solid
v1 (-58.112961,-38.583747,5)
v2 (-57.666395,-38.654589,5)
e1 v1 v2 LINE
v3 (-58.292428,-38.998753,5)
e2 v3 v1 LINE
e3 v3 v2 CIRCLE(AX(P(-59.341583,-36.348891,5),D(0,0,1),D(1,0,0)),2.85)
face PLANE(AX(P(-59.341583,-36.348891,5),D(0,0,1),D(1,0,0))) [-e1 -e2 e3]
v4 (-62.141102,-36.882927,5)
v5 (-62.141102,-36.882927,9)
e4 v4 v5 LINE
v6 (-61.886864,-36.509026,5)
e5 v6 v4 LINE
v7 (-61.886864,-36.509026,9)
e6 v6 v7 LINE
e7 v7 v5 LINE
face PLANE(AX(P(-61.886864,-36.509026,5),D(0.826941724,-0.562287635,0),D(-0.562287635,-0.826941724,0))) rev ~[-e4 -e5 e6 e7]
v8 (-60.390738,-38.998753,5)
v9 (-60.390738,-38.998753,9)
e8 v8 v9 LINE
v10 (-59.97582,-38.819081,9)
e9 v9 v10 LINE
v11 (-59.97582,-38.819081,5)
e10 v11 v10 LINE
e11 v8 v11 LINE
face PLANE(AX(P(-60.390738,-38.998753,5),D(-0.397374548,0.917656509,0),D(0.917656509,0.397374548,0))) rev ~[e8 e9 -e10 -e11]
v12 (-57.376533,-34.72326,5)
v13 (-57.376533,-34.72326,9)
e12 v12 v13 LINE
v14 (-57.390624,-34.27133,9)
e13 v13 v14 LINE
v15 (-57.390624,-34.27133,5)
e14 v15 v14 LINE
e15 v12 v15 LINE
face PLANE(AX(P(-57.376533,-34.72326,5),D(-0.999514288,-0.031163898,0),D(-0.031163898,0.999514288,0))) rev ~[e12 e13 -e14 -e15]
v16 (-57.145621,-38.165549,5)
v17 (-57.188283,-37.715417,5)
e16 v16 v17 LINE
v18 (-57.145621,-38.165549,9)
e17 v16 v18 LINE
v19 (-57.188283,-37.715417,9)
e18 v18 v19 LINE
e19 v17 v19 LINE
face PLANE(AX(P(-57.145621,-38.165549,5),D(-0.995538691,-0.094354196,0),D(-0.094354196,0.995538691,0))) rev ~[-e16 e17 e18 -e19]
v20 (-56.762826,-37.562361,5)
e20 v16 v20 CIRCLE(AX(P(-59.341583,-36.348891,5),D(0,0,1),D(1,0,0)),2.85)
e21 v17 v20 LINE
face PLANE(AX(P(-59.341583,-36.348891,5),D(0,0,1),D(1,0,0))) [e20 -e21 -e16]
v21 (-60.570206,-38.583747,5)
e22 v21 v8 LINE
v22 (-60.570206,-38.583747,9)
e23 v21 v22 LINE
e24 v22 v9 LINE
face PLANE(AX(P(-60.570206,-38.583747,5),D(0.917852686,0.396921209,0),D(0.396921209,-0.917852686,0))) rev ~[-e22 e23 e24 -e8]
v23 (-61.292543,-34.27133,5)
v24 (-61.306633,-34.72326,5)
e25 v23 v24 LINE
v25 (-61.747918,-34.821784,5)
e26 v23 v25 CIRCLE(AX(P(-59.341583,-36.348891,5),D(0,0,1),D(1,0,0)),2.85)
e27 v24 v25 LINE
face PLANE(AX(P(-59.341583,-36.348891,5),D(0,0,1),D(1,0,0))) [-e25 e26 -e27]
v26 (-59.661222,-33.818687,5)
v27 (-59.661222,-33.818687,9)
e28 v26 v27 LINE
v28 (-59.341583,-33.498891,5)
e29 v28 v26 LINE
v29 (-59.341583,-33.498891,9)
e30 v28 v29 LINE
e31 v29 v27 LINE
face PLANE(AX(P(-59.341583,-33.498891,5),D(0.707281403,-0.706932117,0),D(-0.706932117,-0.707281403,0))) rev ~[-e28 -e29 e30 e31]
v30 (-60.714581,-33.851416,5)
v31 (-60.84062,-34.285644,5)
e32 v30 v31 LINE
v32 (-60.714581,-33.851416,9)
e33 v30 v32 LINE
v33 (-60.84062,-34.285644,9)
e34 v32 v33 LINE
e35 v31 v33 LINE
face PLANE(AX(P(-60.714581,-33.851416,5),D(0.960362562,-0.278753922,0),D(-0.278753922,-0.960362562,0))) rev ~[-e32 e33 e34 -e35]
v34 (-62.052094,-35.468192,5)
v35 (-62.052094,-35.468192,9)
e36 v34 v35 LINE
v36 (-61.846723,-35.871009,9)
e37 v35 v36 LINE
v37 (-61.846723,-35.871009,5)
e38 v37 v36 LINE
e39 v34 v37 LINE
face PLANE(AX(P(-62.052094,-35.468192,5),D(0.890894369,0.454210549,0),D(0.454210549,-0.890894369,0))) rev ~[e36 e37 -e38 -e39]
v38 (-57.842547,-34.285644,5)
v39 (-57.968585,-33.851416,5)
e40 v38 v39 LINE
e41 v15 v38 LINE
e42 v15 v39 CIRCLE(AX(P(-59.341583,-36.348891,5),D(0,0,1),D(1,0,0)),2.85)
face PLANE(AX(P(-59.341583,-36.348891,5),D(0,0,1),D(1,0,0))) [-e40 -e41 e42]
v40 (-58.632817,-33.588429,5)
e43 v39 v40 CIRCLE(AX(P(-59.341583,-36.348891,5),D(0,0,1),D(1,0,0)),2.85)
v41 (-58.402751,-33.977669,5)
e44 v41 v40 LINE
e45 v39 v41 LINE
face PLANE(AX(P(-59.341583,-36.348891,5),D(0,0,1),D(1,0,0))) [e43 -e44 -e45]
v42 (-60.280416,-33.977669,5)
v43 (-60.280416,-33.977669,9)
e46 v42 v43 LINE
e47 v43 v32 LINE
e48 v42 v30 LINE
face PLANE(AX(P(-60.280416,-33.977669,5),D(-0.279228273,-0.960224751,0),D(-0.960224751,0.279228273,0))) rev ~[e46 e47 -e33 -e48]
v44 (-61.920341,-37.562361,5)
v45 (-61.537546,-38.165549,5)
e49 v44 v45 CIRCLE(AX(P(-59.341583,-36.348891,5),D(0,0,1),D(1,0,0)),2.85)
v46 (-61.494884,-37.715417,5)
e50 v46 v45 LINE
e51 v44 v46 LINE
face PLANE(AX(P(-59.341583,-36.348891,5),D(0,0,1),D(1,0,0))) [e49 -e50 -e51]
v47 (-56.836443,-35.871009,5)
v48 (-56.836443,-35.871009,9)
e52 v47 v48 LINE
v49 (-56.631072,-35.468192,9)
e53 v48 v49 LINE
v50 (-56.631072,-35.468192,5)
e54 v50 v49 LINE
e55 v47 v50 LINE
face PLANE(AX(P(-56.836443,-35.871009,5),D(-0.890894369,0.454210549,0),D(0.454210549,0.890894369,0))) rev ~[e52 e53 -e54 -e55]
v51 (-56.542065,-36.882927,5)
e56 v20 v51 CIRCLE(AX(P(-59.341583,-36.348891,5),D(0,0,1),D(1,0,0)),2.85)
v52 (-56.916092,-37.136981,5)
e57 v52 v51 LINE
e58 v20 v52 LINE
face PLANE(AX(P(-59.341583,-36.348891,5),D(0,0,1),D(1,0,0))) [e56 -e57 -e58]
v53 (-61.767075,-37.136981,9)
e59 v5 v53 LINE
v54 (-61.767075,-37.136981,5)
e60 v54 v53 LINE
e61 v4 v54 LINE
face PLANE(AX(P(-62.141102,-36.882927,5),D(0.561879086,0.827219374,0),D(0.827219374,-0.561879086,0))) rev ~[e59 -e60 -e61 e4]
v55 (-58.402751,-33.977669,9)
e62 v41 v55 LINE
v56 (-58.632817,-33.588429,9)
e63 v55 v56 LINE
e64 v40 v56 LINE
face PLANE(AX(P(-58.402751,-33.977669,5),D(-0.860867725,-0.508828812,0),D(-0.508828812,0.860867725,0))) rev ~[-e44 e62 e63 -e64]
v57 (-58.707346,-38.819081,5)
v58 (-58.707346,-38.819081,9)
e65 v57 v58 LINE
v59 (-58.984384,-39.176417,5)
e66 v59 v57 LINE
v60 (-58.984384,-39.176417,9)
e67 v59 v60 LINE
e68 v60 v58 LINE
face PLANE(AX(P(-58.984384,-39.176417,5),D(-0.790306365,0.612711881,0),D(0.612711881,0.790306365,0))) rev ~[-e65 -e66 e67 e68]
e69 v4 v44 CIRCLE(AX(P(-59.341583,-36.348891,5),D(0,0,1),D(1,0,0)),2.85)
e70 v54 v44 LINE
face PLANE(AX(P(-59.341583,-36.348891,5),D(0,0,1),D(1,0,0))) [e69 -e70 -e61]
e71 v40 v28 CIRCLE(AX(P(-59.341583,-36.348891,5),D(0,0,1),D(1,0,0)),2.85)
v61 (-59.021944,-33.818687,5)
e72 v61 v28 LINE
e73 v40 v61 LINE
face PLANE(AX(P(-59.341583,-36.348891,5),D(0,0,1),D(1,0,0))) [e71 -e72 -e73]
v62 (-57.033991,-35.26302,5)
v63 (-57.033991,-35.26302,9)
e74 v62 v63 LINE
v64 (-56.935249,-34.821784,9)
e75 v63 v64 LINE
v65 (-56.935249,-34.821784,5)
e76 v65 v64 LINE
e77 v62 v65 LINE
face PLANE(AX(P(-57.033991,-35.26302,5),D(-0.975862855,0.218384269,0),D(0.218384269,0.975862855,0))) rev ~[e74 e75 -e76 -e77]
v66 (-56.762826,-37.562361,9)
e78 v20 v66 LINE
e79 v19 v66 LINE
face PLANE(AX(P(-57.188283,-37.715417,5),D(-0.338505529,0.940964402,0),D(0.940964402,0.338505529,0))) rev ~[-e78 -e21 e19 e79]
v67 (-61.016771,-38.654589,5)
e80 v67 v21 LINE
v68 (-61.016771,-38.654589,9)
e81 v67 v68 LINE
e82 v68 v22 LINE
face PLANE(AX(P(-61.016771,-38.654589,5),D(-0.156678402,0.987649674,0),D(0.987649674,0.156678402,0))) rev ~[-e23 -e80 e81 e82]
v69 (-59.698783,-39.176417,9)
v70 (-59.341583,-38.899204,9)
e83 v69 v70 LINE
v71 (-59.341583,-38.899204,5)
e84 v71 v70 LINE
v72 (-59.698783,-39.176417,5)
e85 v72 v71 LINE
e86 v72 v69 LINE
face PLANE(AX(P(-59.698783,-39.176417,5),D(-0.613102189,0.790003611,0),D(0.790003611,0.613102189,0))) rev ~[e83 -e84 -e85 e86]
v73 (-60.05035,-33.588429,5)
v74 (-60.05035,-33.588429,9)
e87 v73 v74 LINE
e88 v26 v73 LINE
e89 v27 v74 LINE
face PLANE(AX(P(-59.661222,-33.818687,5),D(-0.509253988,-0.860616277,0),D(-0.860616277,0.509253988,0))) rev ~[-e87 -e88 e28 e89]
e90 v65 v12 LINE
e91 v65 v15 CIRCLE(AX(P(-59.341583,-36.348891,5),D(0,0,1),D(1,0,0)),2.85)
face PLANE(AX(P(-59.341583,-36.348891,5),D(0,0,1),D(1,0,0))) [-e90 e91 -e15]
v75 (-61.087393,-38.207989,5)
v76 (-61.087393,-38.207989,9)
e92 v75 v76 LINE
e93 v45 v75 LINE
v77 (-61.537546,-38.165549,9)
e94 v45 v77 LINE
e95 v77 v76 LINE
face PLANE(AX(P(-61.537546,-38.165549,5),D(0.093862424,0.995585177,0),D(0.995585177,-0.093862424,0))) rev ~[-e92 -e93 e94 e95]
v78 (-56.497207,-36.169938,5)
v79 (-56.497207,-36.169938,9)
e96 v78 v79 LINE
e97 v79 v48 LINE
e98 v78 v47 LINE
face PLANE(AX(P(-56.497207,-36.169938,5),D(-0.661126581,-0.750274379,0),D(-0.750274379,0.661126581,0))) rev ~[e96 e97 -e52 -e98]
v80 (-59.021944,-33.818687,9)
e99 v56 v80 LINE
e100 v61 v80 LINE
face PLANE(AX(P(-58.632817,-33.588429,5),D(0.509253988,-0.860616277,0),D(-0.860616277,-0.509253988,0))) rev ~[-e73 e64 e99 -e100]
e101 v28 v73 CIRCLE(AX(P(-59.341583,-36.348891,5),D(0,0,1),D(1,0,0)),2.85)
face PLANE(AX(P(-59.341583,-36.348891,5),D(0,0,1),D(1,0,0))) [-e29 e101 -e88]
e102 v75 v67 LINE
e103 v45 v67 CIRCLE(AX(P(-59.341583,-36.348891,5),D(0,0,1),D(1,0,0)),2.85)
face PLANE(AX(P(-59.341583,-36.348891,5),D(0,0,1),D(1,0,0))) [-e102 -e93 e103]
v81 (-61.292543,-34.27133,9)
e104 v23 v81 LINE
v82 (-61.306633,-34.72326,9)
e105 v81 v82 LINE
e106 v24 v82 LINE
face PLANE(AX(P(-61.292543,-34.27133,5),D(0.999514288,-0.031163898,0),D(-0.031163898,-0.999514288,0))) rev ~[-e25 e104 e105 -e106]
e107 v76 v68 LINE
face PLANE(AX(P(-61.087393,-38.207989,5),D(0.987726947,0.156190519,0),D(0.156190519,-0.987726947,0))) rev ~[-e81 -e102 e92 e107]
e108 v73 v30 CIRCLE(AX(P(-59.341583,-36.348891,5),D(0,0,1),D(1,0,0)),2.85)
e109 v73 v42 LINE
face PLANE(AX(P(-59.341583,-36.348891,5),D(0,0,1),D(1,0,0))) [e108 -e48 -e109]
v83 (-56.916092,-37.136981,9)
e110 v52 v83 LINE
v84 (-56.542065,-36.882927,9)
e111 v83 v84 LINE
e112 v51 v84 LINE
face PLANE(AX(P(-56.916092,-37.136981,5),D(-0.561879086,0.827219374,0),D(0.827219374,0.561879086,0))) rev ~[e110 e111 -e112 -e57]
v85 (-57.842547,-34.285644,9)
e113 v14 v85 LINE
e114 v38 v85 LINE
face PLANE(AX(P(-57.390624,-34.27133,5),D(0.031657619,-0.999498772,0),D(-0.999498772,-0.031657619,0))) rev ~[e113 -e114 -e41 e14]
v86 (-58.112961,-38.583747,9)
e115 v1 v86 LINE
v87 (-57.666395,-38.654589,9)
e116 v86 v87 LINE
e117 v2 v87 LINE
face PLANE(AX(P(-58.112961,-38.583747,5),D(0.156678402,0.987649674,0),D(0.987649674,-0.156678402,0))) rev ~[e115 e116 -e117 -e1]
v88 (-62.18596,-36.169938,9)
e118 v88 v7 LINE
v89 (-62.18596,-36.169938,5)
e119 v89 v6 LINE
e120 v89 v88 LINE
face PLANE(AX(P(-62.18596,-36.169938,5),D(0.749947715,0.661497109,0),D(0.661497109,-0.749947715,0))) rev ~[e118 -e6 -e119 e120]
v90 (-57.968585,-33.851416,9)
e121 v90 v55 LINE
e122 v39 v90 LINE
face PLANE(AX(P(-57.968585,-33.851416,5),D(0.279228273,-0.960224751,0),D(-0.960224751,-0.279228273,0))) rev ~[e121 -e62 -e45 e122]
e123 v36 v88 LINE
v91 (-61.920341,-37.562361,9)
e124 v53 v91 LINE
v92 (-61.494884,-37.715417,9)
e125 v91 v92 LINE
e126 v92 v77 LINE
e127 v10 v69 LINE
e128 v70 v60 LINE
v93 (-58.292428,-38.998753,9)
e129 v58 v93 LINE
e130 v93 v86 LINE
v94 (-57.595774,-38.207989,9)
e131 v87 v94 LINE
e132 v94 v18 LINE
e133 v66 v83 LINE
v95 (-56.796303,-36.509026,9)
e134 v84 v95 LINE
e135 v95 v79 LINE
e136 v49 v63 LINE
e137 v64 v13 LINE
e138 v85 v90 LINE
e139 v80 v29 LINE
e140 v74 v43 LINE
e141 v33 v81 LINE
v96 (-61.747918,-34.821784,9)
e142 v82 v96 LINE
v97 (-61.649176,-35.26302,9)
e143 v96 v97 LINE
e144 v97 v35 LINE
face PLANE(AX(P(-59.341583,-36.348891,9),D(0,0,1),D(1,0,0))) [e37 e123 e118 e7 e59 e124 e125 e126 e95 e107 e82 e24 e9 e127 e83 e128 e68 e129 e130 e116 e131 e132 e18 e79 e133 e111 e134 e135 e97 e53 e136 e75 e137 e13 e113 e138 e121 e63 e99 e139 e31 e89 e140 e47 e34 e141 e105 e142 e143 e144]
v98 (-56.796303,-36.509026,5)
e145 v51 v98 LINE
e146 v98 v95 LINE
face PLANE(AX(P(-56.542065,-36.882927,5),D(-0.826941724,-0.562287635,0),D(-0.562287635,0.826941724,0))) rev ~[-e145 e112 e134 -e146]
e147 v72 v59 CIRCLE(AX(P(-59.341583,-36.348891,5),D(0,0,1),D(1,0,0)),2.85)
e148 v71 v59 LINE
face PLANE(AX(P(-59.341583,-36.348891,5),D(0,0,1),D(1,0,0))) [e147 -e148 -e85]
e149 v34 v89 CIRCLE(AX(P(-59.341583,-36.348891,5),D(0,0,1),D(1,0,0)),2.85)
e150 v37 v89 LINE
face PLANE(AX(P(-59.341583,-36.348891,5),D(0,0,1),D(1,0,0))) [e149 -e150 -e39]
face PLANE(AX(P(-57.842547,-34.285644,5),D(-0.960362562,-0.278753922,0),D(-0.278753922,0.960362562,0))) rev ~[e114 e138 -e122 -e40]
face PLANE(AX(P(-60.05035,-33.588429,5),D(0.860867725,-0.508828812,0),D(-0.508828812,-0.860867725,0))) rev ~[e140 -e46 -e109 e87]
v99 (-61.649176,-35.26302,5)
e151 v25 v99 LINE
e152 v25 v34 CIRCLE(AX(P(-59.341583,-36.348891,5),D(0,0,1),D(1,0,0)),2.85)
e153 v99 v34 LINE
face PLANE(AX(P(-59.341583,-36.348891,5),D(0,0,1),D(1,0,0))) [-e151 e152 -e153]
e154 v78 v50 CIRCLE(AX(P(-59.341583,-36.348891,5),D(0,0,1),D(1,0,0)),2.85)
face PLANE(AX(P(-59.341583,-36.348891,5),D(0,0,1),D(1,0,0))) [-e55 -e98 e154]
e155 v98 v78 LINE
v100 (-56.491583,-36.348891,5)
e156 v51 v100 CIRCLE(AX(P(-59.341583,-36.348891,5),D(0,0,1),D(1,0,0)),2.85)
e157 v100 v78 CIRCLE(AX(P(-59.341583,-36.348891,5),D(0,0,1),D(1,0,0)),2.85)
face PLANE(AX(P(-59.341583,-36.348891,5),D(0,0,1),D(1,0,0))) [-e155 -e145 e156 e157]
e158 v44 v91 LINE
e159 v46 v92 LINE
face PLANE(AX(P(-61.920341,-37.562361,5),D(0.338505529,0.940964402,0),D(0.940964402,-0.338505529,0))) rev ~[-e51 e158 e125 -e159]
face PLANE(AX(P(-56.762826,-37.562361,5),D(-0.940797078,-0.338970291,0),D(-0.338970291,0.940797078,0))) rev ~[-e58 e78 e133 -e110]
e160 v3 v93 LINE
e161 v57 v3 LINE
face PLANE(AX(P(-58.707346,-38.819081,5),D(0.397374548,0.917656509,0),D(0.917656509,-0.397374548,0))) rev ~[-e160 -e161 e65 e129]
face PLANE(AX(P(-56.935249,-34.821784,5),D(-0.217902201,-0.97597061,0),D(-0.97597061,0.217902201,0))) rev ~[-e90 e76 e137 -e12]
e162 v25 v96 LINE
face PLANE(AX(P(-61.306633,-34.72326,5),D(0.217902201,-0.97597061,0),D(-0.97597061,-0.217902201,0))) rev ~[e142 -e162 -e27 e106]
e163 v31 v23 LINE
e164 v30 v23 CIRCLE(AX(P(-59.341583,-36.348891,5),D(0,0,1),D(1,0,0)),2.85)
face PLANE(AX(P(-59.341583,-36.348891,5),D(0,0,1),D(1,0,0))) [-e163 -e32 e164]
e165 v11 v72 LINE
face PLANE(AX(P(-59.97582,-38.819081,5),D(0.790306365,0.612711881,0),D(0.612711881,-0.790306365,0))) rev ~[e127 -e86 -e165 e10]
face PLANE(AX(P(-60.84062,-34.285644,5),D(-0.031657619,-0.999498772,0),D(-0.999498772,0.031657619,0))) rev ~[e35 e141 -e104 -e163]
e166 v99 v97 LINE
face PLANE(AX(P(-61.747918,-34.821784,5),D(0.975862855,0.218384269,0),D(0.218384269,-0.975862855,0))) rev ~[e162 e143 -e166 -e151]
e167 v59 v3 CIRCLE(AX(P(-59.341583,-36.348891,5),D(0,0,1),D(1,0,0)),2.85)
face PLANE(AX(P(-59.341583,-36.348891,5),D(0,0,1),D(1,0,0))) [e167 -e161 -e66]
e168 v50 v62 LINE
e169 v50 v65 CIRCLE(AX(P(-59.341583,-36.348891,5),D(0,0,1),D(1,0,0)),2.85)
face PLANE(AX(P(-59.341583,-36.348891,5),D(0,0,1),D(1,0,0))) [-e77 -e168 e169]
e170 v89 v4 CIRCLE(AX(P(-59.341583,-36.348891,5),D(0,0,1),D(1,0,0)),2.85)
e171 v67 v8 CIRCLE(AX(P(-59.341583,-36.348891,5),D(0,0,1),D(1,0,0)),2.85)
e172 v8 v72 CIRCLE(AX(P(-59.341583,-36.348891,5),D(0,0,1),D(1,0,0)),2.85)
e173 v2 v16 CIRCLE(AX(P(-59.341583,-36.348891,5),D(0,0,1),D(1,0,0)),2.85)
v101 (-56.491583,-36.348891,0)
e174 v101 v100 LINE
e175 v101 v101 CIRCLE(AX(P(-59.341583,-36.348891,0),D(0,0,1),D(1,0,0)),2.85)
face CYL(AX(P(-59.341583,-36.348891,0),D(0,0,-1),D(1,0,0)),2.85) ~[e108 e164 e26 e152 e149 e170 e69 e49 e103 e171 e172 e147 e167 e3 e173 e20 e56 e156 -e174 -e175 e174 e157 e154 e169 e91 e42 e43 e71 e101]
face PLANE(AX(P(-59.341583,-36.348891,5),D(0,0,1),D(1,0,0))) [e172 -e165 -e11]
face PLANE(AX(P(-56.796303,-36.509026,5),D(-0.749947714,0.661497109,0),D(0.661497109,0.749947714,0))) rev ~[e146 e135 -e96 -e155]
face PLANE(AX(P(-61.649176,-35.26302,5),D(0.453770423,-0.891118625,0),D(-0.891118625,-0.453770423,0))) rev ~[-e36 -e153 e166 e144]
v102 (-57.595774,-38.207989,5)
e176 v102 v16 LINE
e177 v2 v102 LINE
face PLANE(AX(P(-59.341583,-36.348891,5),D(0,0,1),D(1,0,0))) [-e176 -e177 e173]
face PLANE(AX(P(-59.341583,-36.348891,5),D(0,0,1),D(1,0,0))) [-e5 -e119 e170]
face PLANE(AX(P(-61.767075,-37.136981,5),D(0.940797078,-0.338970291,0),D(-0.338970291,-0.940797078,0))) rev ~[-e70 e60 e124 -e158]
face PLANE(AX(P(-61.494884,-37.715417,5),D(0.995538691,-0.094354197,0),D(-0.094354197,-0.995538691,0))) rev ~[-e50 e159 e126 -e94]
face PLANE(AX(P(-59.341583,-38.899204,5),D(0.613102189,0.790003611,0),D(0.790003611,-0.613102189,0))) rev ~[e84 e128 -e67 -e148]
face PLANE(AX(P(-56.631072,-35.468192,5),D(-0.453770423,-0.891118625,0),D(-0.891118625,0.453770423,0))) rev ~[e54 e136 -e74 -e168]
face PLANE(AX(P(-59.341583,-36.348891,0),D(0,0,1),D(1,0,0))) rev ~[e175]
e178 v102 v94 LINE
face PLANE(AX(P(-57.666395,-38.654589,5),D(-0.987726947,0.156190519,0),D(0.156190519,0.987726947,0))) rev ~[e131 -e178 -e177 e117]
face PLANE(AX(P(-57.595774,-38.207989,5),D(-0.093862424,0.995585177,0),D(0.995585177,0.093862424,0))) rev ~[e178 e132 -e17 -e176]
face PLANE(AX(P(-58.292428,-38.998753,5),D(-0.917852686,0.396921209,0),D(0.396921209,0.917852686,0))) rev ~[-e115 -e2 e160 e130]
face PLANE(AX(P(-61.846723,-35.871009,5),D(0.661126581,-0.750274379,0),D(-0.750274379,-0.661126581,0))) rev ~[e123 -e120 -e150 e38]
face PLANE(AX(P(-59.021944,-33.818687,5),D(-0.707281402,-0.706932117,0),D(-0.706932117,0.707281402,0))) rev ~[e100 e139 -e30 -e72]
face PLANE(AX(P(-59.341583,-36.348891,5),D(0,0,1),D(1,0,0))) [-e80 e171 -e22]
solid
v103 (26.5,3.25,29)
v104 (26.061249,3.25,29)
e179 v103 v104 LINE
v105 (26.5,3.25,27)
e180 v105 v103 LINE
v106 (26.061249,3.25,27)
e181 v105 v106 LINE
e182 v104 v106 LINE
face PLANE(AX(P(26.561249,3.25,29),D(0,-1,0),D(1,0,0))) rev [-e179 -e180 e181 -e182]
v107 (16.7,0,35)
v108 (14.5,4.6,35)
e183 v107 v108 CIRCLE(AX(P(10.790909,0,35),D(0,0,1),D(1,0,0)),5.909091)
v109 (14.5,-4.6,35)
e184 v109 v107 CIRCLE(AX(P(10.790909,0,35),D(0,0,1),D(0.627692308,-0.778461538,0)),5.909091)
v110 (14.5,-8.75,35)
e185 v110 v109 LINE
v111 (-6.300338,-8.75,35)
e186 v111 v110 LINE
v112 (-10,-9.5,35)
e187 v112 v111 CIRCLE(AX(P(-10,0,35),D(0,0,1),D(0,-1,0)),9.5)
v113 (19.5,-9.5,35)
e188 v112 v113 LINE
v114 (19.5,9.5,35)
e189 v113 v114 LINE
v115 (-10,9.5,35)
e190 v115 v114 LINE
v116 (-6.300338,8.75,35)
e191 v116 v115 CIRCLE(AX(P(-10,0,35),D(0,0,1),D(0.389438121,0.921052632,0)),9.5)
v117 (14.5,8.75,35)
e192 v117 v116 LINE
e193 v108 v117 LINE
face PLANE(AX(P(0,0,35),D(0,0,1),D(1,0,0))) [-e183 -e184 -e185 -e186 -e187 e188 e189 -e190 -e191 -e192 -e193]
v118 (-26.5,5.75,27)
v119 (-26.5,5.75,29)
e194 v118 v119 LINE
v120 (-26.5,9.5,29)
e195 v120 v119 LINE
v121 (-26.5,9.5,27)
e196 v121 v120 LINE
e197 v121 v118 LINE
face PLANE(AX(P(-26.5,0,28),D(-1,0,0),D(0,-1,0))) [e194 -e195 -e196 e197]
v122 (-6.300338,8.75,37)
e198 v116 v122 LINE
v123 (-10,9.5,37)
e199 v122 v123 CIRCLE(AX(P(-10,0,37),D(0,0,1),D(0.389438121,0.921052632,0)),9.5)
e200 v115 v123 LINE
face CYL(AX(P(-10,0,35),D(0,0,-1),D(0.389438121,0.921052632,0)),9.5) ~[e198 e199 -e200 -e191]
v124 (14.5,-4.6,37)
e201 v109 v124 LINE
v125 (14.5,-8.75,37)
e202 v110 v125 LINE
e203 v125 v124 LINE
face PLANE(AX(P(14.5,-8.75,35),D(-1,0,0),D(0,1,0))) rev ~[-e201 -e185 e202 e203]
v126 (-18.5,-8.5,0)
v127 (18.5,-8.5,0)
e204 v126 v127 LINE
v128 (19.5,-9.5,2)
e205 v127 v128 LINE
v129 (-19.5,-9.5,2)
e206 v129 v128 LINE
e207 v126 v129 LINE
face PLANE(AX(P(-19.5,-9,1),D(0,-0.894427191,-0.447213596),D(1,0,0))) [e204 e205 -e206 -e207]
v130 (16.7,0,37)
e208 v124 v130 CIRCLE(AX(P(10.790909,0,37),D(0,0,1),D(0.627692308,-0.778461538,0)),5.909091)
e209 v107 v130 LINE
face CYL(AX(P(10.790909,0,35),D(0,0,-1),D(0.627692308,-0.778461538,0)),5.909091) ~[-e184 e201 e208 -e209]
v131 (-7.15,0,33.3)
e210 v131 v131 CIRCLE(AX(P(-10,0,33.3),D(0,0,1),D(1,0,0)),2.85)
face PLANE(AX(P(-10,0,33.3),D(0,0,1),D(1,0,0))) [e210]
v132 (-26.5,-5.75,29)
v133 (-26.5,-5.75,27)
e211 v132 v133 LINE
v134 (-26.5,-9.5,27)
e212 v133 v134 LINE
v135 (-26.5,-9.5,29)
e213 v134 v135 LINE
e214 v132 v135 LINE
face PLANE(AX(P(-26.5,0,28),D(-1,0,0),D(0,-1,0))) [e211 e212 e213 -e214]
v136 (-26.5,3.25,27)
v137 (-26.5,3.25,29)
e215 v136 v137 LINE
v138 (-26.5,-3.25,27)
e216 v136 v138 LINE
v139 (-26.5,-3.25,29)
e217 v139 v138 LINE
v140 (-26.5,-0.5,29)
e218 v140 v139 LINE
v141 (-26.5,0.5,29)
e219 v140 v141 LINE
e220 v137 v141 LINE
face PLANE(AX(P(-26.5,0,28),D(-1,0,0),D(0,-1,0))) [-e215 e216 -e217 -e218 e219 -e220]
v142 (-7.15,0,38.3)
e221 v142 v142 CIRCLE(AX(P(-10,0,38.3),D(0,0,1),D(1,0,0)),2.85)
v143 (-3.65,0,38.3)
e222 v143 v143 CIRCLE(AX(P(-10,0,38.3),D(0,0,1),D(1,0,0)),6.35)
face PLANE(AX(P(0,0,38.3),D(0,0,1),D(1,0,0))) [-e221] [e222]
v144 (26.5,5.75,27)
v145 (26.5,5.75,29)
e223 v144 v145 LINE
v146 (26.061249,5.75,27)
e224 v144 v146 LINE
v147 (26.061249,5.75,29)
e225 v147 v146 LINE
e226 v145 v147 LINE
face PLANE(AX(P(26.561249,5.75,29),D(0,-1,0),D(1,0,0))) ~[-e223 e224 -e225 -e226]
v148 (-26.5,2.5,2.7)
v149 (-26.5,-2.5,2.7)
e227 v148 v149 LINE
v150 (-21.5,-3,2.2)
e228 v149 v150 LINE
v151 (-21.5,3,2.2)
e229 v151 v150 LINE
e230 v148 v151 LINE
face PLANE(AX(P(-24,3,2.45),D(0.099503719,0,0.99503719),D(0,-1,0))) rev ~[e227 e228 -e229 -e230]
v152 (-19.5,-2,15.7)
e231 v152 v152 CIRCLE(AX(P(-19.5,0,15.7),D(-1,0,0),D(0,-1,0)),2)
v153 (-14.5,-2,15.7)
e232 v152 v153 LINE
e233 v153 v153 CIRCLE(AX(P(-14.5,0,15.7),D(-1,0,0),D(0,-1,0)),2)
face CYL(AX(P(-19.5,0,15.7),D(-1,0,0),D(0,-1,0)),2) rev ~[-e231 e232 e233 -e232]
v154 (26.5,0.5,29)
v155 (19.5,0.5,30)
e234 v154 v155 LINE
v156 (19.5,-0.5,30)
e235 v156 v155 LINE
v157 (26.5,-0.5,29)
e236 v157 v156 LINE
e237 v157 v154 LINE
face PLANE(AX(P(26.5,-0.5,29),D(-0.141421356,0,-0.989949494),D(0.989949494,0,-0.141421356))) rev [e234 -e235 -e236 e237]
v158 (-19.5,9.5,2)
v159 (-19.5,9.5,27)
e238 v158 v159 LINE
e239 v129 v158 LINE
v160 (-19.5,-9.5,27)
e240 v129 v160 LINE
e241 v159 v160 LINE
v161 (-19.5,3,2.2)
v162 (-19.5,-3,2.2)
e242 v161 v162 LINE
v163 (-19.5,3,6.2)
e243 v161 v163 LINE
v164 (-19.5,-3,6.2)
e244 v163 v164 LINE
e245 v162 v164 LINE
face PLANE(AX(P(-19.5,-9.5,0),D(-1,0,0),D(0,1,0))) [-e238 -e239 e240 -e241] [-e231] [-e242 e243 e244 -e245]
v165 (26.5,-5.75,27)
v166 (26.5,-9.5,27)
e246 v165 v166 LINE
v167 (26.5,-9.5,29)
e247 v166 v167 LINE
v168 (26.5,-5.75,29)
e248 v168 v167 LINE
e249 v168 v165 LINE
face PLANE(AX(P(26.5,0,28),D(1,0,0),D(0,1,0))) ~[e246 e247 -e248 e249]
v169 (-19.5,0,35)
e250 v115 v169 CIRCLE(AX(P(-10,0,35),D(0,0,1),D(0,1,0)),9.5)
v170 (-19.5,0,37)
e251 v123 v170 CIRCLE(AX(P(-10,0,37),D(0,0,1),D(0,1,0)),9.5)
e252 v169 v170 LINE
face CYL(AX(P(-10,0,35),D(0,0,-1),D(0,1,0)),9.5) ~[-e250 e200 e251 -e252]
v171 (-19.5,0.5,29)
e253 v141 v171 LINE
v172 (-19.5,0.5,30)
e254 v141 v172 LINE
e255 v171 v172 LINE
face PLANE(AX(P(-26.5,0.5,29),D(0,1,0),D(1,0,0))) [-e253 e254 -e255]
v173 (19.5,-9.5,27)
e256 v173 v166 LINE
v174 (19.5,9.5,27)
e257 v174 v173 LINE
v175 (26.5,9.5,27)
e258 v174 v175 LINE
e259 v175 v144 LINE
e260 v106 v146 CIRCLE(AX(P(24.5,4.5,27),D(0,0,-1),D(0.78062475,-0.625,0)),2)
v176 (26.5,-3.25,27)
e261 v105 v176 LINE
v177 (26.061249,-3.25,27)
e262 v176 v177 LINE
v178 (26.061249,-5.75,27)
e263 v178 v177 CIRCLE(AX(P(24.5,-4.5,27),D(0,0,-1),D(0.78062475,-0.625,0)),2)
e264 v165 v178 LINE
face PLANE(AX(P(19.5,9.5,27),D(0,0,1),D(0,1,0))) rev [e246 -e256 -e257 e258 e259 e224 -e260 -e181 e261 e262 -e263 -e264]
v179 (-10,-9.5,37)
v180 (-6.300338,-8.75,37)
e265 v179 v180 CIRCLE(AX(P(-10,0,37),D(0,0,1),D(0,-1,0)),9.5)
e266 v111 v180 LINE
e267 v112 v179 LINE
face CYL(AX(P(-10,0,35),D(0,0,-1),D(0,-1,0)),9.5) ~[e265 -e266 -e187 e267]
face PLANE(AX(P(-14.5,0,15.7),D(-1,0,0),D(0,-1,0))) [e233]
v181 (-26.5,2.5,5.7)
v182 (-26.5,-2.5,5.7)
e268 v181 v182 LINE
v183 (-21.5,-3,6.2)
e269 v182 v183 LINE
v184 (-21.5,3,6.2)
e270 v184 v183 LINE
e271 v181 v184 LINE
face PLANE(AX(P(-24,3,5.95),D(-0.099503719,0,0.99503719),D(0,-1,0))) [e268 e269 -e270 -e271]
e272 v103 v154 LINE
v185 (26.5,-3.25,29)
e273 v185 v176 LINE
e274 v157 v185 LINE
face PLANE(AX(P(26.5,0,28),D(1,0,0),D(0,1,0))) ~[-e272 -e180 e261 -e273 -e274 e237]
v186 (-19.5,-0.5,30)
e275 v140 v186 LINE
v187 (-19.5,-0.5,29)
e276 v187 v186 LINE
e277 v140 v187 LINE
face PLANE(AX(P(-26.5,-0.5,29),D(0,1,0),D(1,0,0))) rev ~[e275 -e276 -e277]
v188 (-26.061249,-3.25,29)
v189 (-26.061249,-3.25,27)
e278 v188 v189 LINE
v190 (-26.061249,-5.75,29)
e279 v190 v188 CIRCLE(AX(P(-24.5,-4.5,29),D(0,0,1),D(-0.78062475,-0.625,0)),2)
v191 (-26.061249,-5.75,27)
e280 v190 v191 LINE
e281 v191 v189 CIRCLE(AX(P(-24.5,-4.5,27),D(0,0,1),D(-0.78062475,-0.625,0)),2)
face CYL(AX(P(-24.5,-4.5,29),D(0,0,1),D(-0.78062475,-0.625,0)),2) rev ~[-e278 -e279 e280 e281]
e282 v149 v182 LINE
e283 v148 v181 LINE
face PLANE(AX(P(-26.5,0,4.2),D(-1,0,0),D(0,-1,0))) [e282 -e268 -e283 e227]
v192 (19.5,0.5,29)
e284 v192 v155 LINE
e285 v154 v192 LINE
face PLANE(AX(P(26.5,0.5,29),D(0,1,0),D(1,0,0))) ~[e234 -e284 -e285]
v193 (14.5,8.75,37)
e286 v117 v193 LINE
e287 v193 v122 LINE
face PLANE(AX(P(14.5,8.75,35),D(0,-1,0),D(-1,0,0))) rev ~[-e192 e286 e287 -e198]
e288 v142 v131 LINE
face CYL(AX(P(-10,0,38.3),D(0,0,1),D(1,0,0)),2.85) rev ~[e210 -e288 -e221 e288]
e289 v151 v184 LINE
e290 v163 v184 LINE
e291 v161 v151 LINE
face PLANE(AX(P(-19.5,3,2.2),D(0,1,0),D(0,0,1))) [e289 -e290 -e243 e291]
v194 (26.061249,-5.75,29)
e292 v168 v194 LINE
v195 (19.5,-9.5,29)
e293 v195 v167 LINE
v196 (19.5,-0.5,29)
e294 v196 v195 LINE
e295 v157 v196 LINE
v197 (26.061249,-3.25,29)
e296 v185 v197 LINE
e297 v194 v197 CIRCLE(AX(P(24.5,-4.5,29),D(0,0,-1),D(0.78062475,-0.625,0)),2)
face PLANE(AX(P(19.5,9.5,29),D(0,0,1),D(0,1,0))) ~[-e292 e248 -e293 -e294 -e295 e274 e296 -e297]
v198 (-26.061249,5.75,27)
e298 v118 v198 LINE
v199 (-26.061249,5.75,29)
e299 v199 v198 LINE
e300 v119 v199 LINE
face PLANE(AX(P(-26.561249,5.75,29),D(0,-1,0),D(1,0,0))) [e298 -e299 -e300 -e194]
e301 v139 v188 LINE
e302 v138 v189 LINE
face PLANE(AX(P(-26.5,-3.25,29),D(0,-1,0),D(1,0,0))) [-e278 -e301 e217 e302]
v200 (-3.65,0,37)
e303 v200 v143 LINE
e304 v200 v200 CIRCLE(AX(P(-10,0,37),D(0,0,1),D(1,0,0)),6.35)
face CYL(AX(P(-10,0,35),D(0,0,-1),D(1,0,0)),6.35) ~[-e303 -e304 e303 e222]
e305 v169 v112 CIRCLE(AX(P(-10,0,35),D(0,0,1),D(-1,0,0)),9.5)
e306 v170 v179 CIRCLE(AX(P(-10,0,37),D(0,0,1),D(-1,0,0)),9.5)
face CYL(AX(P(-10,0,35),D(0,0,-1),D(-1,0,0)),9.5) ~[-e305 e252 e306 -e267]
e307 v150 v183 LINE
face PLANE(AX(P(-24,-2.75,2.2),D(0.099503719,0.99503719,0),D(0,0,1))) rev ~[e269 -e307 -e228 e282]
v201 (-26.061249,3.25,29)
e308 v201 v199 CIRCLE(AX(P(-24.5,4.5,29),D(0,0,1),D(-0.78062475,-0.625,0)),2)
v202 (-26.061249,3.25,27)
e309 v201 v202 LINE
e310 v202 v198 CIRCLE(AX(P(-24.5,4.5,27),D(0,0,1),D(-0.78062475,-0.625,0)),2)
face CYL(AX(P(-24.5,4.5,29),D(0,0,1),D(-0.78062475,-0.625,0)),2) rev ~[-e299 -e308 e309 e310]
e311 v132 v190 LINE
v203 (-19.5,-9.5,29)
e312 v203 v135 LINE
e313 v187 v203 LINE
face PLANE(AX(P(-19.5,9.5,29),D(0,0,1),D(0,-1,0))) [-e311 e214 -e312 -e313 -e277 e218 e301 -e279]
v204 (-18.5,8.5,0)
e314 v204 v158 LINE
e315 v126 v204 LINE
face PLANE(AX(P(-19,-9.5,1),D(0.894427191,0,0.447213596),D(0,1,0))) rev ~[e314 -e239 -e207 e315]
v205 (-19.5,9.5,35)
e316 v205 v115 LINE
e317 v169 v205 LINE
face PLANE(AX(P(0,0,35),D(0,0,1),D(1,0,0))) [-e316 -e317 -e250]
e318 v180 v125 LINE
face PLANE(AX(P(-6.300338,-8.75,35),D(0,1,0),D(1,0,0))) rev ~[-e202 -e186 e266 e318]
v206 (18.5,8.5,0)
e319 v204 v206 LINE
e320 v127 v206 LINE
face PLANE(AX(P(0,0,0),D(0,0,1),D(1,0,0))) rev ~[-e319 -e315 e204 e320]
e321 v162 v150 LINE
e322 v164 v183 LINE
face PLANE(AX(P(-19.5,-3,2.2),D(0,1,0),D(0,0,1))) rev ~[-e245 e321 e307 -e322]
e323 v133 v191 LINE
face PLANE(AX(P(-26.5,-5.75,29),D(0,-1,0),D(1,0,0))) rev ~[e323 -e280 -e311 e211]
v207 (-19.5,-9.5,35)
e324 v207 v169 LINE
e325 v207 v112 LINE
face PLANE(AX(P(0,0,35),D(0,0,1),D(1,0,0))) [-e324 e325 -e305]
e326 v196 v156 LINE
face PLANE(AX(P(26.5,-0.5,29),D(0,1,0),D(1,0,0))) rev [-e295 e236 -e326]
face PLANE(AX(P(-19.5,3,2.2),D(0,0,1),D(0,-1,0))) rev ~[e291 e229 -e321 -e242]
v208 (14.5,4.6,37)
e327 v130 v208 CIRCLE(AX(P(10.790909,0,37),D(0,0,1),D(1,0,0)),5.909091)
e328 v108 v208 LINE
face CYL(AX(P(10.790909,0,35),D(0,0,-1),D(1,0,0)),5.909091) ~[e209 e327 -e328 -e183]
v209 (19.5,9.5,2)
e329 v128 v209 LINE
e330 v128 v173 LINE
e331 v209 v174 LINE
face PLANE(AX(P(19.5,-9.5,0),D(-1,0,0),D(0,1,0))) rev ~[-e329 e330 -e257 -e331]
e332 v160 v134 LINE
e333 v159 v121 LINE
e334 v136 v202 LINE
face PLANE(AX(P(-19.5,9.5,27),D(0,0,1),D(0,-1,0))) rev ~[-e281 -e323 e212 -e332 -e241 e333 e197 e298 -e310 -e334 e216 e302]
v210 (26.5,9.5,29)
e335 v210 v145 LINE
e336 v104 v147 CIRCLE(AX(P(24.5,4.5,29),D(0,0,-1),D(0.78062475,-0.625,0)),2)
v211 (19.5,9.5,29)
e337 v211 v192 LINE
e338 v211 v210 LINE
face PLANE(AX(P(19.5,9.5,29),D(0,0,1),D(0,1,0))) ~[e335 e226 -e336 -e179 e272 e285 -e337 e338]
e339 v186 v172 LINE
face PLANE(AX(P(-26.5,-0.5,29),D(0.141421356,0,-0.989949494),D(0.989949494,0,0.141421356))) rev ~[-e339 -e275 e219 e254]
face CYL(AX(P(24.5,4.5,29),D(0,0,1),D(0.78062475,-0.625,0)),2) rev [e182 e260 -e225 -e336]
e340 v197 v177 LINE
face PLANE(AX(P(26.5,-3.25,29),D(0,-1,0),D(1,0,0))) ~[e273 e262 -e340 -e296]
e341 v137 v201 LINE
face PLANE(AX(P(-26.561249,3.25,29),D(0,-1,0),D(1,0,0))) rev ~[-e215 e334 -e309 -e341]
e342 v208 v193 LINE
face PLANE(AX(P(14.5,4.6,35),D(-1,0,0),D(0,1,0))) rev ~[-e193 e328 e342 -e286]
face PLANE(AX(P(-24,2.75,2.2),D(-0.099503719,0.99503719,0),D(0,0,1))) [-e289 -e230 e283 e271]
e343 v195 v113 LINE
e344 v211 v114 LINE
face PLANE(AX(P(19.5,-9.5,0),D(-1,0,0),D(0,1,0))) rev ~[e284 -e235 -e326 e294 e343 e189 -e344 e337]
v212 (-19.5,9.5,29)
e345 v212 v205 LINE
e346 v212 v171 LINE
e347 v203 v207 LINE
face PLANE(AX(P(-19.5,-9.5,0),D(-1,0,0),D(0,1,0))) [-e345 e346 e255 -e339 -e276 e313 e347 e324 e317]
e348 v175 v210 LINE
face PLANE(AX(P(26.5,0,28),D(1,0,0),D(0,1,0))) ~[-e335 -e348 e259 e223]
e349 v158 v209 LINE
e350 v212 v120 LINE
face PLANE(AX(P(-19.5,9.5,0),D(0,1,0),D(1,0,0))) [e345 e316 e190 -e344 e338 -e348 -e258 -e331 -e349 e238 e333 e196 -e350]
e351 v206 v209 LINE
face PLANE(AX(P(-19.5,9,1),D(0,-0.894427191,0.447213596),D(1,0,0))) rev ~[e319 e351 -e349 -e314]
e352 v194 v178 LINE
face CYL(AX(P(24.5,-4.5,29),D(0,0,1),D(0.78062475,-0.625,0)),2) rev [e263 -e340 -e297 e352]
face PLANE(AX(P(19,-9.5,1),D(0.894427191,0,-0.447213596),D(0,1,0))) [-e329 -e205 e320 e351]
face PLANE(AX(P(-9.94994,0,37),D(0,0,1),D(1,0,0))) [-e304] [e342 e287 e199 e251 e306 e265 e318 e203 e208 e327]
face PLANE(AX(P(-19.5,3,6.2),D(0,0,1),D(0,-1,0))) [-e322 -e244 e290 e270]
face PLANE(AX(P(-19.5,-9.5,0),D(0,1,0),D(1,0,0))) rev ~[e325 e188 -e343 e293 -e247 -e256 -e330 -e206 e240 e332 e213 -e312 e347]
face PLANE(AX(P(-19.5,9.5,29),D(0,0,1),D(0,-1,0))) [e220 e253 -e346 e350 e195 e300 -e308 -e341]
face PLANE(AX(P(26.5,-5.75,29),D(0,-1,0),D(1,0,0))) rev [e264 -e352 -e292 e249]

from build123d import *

# Parameters (mm, degrees)
F0_W      = 39
F0_H      = 19
F1_DEPTH  = 35
F2_W      = 19
F2_H      = 2
F3_DEPTH  = 7
F4_W      = 7
F4_H      = 1
F5_DEPTH  = 1
F7_DEPTH  = 1
F8_SIZE2  = 2
F8_SIZE   = 1
F9_W      = 0.5
F9_H      = 2.5
F9_W_2    = 0.4387505004
F10_DEPTH = 2
F12_W     = 6
F12_H     = 4
F13_DEPTH = 7
F12_R     = 2
F14_DEPTH = 5
F15_SIZE2 = 5
F15_SIZE  = 0.5
F16_R     = 6.35
F17_DEPTH = 2
F18_DEPTH = 3.3
F19_R     = 2.85
F20_DEPTH = 5
F21_R     = 2.85
F22_DEPTH = 5
F24_DEPTH = 4


with BuildPart() as f1:
    # F0 (on Top) → F1 (new body)
    with BuildSketch(Plane.XY):
        Rectangle(F0_W, F0_H)
    extrude(amount=F1_DEPTH)

    # F2 (on face) → F3 (join)
    with BuildSketch(Plane(origin=(-19.5, 0, 0), x_dir=(0, -1, 0), z_dir=(-1, 0, 0))):
        with Locations((0, 28)):
            Rectangle(F2_W, F2_H)
    extrude(amount=F3_DEPTH)

    # F4 (on face) → F5 (join)
    with BuildSketch(Plane.XY.offset(29)):
        with Locations((-23, 0)):
            Rectangle(F4_W, F4_H)
    extrude(amount=F5_DEPTH)

    # F6 (on face) → F7 (cut, through all)
    with BuildSketch(Plane.XZ.offset(0.5)):
        Polygon((-26.5, 30), (-26.5, 29), (-19.5, 30), align=None)
    extrude(amount=-F7_DEPTH, mode=Mode.SUBTRACT)

    # F8
    f8_edges = [f1.edges().sort_by_distance(p)[0] for p in [
        (0, -9.5, 0),
        (19.5, 0, 0),
        (0, 9.5, 0),
        (-19.5, 0, 0),
    ]]
    f8_side = f1.faces().sort_by_distance((0, 0, 0))[0]
    chamfer(f8_edges, length=F8_SIZE, length2=F8_SIZE2, reference=f8_side)

    # F9 (on face) → F10 (cut, through all)
    with BuildSketch(Plane.XY.offset(29)):
        with Locations((-26.3112494996, 4.5)):
            Rectangle(F9_W, F9_H)
        with BuildLine():
            Line((-26.0612494996, 5.75), (-26.0612494996, 3.25))
            ThreePointArc((-26.0612494996, 3.25), (-22.5, 4.5), (-26.0612494996, 5.75))
        make_face()
        with Locations((-26.2806247498, -4.5)):
            Rectangle(F9_W_2, F9_H)
        with BuildLine():
            Line((-26.0612494996, -3.25), (-26.0612494996, -5.75))
            ThreePointArc((-26.0612494996, -5.75), (-22.5, -4.5), (-26.0612494996, -3.25))
        make_face()
    extrude(amount=-F10_DEPTH, mode=Mode.SUBTRACT)

    # F11: F1 across plane


with BuildPart() as f1_1:
    add(f1.part)
    add(f1.part.mirror(Plane.YZ))

    # F12 (on face) → F13 (join)
    with BuildSketch(Plane(origin=(-19.5, 0, 0), x_dir=(0, -1, 0), z_dir=(-1, 0, 0))):
        with Locations((0, 4.2)):
            Rectangle(F12_W, F12_H)
    extrude(amount=F13_DEPTH)

    # F12 (on face) → F14 (cut)
    with BuildSketch(Plane(origin=(-19.5, 0, 0), x_dir=(0, -1, 0), z_dir=(-1, 0, 0))):
        with Locations((0, 15.7)):
            Circle(F12_R)
    extrude(amount=-F14_DEPTH, mode=Mode.SUBTRACT)

    # F15
    f15_edges = [f1_1.edges().sort_by_distance(p)[0] for p in [
        (-26.5, 0, 2.2),
        (-26.5, -3, 4.2),
        (-26.5, 0, 6.2),
        (-26.5, 3, 4.2),
    ]]
    f15_side = f1_1.faces().sort_by_distance((-26.5, 0, 4.2))[0]
    chamfer(f15_edges, length=F15_SIZE, length2=F15_SIZE2, reference=f15_side)

    # F16 (on face) → F17 (join)
    with BuildSketch(Plane.XY.offset(35)):
        with BuildLine():
            ThreePointArc((-6.3003378533, -8.75), (-2.0817681774, -5.2489622596), (-0.5, 0))
            ThreePointArc((-0.5, 0), (-2.0817681774, 5.2489622596), (-6.3003378533, 8.75))
            ThreePointArc((-6.3003378533, 8.75), (-8.1125413912, 9.3106122248), (-10, 9.5))
            ThreePointArc((-10, 9.5), (-16.7175144213, 6.7175144213), (-19.5, 0))
            ThreePointArc((-19.5, 0), (-16.7175144213, -6.7175144213), (-10, -9.5))
            ThreePointArc((-10, -9.5), (-8.1125413912, -9.3106122248), (-6.3003378533, -8.75))
        make_face()
        with Locations((-10, 0)):
            Circle(F16_R, mode=Mode.SUBTRACT)
        with BuildLine():
            ThreePointArc((-6.3003378533, 8.75), (-2.0817681774, 5.2489622596), (-0.5, 0))
            ThreePointArc((-0.5, 0), (-2.0817681774, -5.2489622596), (-6.3003378533, -8.75))
            Line((-6.3003378533, -8.75), (14.5, -8.75))
            Line((14.5, -8.75), (14.5, -4.6))
            ThreePointArc((14.5, -4.6), (4.8818181818, 0), (14.5, 4.6))
            Line((14.5, 4.6), (14.5, 8.75))
            Line((14.5, 8.75), (-6.3003378533, 8.75))
        make_face()
        with BuildLine():
            Line((14.5, -4.6), (14.5, 4.6))
            ThreePointArc((14.5, 4.6), (4.8818181818, 0), (14.5, -4.6))
        make_face()
        with BuildLine():
            ThreePointArc((16.7, 0), (16.1217022188, 2.5495097568), (14.5, 4.6))
            Line((14.5, 4.6), (14.5, -4.6))
            ThreePointArc((14.5, -4.6), (16.1217022188, -2.5495097568), (16.7, 0))
        make_face()
    extrude(amount=F17_DEPTH)

    # F18 (add): a face of the model
    f18_faces = [f1_1.faces().sort_by_distance(p)[0] for p in [
        (-10, 0, 35),
    ]]
    extrude(f18_faces, amount=F18_DEPTH)

    # F19 (on face) → F20 (cut)
    with BuildSketch(Plane.XY.offset(38.3)):
        with Locations((-10, 0)):
            Circle(F19_R)
    extrude(amount=-F20_DEPTH, mode=Mode.SUBTRACT)


with BuildPart() as f22:
    # F21 (on Top) → F22 (new body)
    with BuildSketch(Plane.XY):
        with Locations((-59.341583401, -36.3488905132)):
            Circle(F21_R)
    extrude(amount=F22_DEPTH)

    # F23 (on face) → F24 (join)
    with BuildSketch(Plane.XY.offset(5)):
        Polygon((-60.7145813722, -33.8514164751), (-60.8406198108, -34.2856439005), (-61.2925426529, -34.271329925), (-61.3066333928, -34.7232597825), (-61.7479179886, -34.8217841475), (-61.6491756568, -35.263020022), (-62.0520944724, -35.4681920792), (-61.8467234126, -35.871009498), (-62.185959577, -36.1699375325), (-61.8868640083, -36.5090259957), (-62.1411020655, -36.8829272598), (-61.7670752625, -37.136980592), (-61.9203405005, -37.5623614941), (-61.4948839427, -37.7154165904), (-61.5375461429, -38.165548884), (-61.0873928306, -38.2079887296), (-61.01677137, -38.6545889472), (-60.5702060914, -38.5837468905), (-60.3907383761, -38.998753498), (-59.97582047, -38.8190808061), (-59.6987831166, -39.1764174119), (-59.341583401, -38.8992035808), (-58.9843836853, -39.1764174119), (-58.707346332, -38.8190808061), (-58.2924284258, -38.998753498), (-58.1129607105, -38.5837468905), (-57.6663954319, -38.6545889472), (-57.5957739713, -38.2079887296), (-57.1456206591, -38.165548884), (-57.1882828592, -37.7154165904), (-56.7628263014, -37.5623614941), (-56.9160915394, -37.136980592), (-56.5420647364, -36.8829272598), (-56.7963027937, -36.5090259957), (-56.4972072249, -36.1699375325), (-56.8364433893, -35.871009498), (-56.6310723295, -35.4681920792), (-57.0339911452, -35.263020022), (-56.9352488133, -34.8217841475), (-57.3765334092, -34.7232597825), (-57.3906241491, -34.271329925), (-57.8425469911, -34.2856439005), (-57.9685854298, -33.8514164751), (-58.4027505438, -33.9776693913), (-58.6328172225, -33.588428504), (-59.0219444176, -33.8186874259), (-59.341583401, -33.4988905132), (-59.6612223843, -33.8186874259), (-60.0503495794, -33.588428504), (-60.2804162582, -33.9776693913), align=None)
        with BuildLine():
            Line((-61.0868844044, -38.2080366633), (-61.0873928306, -38.2079887296))
            Line((-61.0873928306, -38.2079887296), (-61.0874725941, -38.2074843164))
            ThreePointArc((-61.0874725941, -38.2074843164), (-61.0871785211, -38.2077605131), (-61.0868844044, -38.2080366633))
        make_face(mode=Mode.SUBTRACT)
        with BuildLine():
            Line((-60.5697017177, -38.5836668779), (-60.5702060914, -38.5837468905))
            Line((-60.5702060914, -38.5837468905), (-60.5704087914, -38.5832781608))
            ThreePointArc((-60.5704087914, -38.5832781608), (-60.5700552699, -38.5834725473), (-60.5697017177, -38.5836668779))
        make_face(mode=Mode.SUBTRACT)
        with BuildLine():
            Line((-59.9753518404, -38.8188778745), (-59.97582047, -38.8190808061))
            Line((-59.97582047, -38.8190808061), (-59.9761333702, -38.8186772118))
            ThreePointArc((-59.9761333702, -38.8186772118), (-59.9757426132, -38.8187775741), (-59.9753518404, -38.8188778745))
        make_face(mode=Mode.SUBTRACT)
        with BuildLine():
            Line((-61.4944034103, -37.7155894586), (-61.4948839427, -37.7154165904))
            Line((-61.4948839427, -37.7154165904), (-61.4948357578, -37.7149081879))
            ThreePointArc((-61.4948357578, -37.7149081879), (-61.494619611, -37.7152488404), (-61.4944034103, -37.7155894586))
        make_face(mode=Mode.SUBTRACT)
        with BuildLine():
            Line((-61.7666528175, -37.1372675329), (-61.7670752625, -37.136980592))
            Line((-61.7670752625, -37.136980592), (-61.7669021569, -37.1365001451))
            ThreePointArc((-61.7669021569, -37.1365001451), (-61.7667775175, -37.1368838488), (-61.7666528175, -37.1372675329))
        make_face(mode=Mode.SUBTRACT)
        with BuildLine():
            Line((-61.8865261944, -36.5094089795), (-61.8868640083, -36.5090259957))
            Line((-61.8868640083, -36.5090259957), (-61.8865768588, -36.5086036924))
            ThreePointArc((-61.8865768588, -36.5086036924), (-61.8865515585, -36.509006338), (-61.8865261944, -36.5094089795))
        make_face(mode=Mode.SUBTRACT)
        with BuildLine():
            Line((-59.3411799613, -38.8988904813), (-59.341583401, -38.8992035808))
            Line((-59.341583401, -38.8992035808), (-59.3419868406, -38.8988904813))
            ThreePointArc((-59.3419868406, -38.8988904813), (-59.341583401, -38.8988905132), (-59.3411799613, -38.8988904813))
        make_face(mode=Mode.SUBTRACT)
        with BuildLine():
            Line((-58.7070334318, -38.8186772118), (-58.707346332, -38.8190808061))
            Line((-58.707346332, -38.8190808061), (-58.7078149615, -38.8188778745))
            ThreePointArc((-58.7078149615, -38.8188778745), (-58.7074241887, -38.8187775741), (-58.7070334318, -38.8186772118))
        make_face(mode=Mode.SUBTRACT)
        with BuildLine():
            Line((-58.1127580105, -38.5832781608), (-58.1129607105, -38.5837468905))
            Line((-58.1129607105, -38.5837468905), (-58.1134650842, -38.5836668779))
            ThreePointArc((-58.1134650842, -38.5836668779), (-58.113111532, -38.5834725473), (-58.1127580105, -38.5832781608))
        make_face(mode=Mode.SUBTRACT)
        with BuildLine():
            Line((-57.5956942078, -38.2074843164), (-57.5957739713, -38.2079887296))
            Line((-57.5957739713, -38.2079887296), (-57.5962823975, -38.2080366633))
            ThreePointArc((-57.5962823975, -38.2080366633), (-57.5959882808, -38.2077605131), (-57.5956942078, -38.2074843164))
        make_face(mode=Mode.SUBTRACT)
        with BuildLine():
            Line((-57.1883310441, -37.7149081879), (-57.1882828592, -37.7154165904))
            Line((-57.1882828592, -37.7154165904), (-57.1887633917, -37.7155894586))
            ThreePointArc((-57.1887633917, -37.7155894586), (-57.1885471909, -37.7152488404), (-57.1883310441, -37.7149081879))
        make_face(mode=Mode.SUBTRACT)
        with BuildLine():
            Line((-56.9162646451, -37.1365001451), (-56.9160915394, -37.136980592))
            Line((-56.9160915394, -37.136980592), (-56.9165139845, -37.1372675329))
            ThreePointArc((-56.9165139845, -37.1372675329), (-56.9163892844, -37.1368838488), (-56.9162646451, -37.1365001451))
        make_face(mode=Mode.SUBTRACT)
        with BuildLine():
            Line((-56.7965899431, -36.5086036924), (-56.7963027937, -36.5090259957))
            Line((-56.7963027937, -36.5090259957), (-56.7966406075, -36.5094089795))
            ThreePointArc((-56.7966406075, -36.5094089795), (-56.7966152435, -36.509006338), (-56.7965899431, -36.5086036924))
        make_face(mode=Mode.SUBTRACT)
        with BuildLine():
            Line((-61.846491456, -35.8714644606), (-61.8467234126, -35.871009498))
            Line((-61.8467234126, -35.871009498), (-61.8463402619, -35.8706718733))
            ThreePointArc((-61.8463402619, -35.8706718733), (-61.8464158903, -35.871068161), (-61.846491456, -35.8714644606))
        make_face(mode=Mode.SUBTRACT)
        with BuildLine():
            Line((-61.6490641321, -35.2635183764), (-61.6491756568, -35.263020022))
            Line((-61.6491756568, -35.263020022), (-61.6487205796, -35.2627882902))
            ThreePointArc((-61.6487205796, -35.2627882902), (-61.6488923848, -35.2631533197), (-61.6490641321, -35.2635183764))
        make_face(mode=Mode.SUBTRACT)
        with BuildLine():
            Line((-61.3066493076, -34.7237702153), (-61.3066333928, -34.7232597825))
            Line((-61.3066333928, -34.7232597825), (-61.3061349833, -34.7231485041))
            ThreePointArc((-61.3061349833, -34.7231485041), (-61.30639217, -34.7234593393), (-61.3066493076, -34.7237702153))
        make_face(mode=Mode.SUBTRACT)
        with BuildLine():
            Line((-60.8406198108, -34.2856439005), (-60.840109386, -34.2856600675))
            ThreePointArc((-60.840109386, -34.2856600675), (-60.8404357943, -34.2858971775), (-60.8407621651, -34.2861343392))
            Line((-60.8407621651, -34.2861343392), (-60.8406198108, -34.2856439005))
        make_face(mode=Mode.SUBTRACT)
        with BuildLine():
            Line((-60.2806761073, -33.9781090199), (-60.2804162582, -33.9776693913))
            Line((-60.2804162582, -33.9776693913), (-60.2799258899, -33.9778119878))
            ThreePointArc((-60.2799258899, -33.9778119878), (-60.2803010103, -33.9779604742), (-60.2806761073, -33.9781090199))
        make_face(mode=Mode.SUBTRACT)
        with BuildLine():
            Line((-56.83682654, -35.8706718733), (-56.8364433893, -35.871009498))
            Line((-56.8364433893, -35.871009498), (-56.8366753459, -35.8714644606))
            ThreePointArc((-56.8366753459, -35.8714644606), (-56.8367509116, -35.871068161), (-56.83682654, -35.8706718733))
        make_face(mode=Mode.SUBTRACT)
        with BuildLine():
            Line((-57.0344462223, -35.2627882902), (-57.0339911452, -35.263020022))
            Line((-57.0339911452, -35.263020022), (-57.0341026698, -35.2635183764))
            ThreePointArc((-57.0341026698, -35.2635183764), (-57.0342744172, -35.2631533197), (-57.0344462223, -35.2627882902))
        make_face(mode=Mode.SUBTRACT)
        with BuildLine():
            Line((-59.0223839178, -33.8189474921), (-59.0219444176, -33.8186874259))
            Line((-59.0219444176, -33.8186874259), (-59.021583401, -33.8190486209))
            ThreePointArc((-59.021583401, -33.8190486209), (-59.0219836554, -33.8189980248), (-59.0223839178, -33.8189474921))
        make_face(mode=Mode.SUBTRACT)
        with BuildLine():
            Line((-57.3770318186, -34.7231485041), (-57.3765334092, -34.7232597825))
            Line((-57.3765334092, -34.7232597825), (-57.3765174944, -34.7237702153))
            ThreePointArc((-57.3765174944, -34.7237702153), (-57.3767746319, -34.7234593393), (-57.3770318186, -34.7231485041))
        make_face(mode=Mode.SUBTRACT)
        with BuildLine():
            Line((-57.8430574159, -34.2856600675), (-57.8425469911, -34.2856439005))
            Line((-57.8425469911, -34.2856439005), (-57.8424046368, -34.2861343392))
            ThreePointArc((-57.8424046368, -34.2861343392), (-57.8427310076, -34.2858971775), (-57.8430574159, -34.2856600675))
        make_face(mode=Mode.SUBTRACT)
        with BuildLine():
            Line((-61.3061349833, -34.7231485041), (-61.3066333928, -34.7232597825))
            Line((-61.3066333928, -34.7232597825), (-61.3066493076, -34.7237702153))
            ThreePointArc((-61.3066493076, -34.7237702153), (-61.30639217, -34.7234593393), (-61.3061349833, -34.7231485041))
        make_face()
        with BuildLine():
            Line((-61.6487205796, -35.2627882902), (-61.6491756568, -35.263020022))
            Line((-61.6491756568, -35.263020022), (-61.6490641321, -35.2635183764))
            ThreePointArc((-61.6490641321, -35.2635183764), (-61.6488923848, -35.2631533197), (-61.6487205796, -35.2627882902))
        make_face()
        with BuildLine():
            Line((-61.8463402619, -35.8706718733), (-61.8467234126, -35.871009498))
            Line((-61.8467234126, -35.871009498), (-61.846491456, -35.8714644606))
            ThreePointArc((-61.846491456, -35.8714644606), (-61.8464158903, -35.871068161), (-61.8463402619, -35.8706718733))
        make_face()
        with BuildLine():
            Line((-61.8865768588, -36.5086036924), (-61.8868640083, -36.5090259957))
            Line((-61.8868640083, -36.5090259957), (-61.8865261944, -36.5094089795))
            ThreePointArc((-61.8865261944, -36.5094089795), (-61.8865515585, -36.509006338), (-61.8865768588, -36.5086036924))
        make_face()
        with BuildLine():
            Line((-61.7669021569, -37.1365001451), (-61.7670752625, -37.136980592))
            Line((-61.7670752625, -37.136980592), (-61.7666528175, -37.1372675329))
            ThreePointArc((-61.7666528175, -37.1372675329), (-61.7667775175, -37.1368838488), (-61.7669021569, -37.1365001451))
        make_face()
        with BuildLine():
            Line((-61.4948357578, -37.7149081879), (-61.4948839427, -37.7154165904))
            Line((-61.4948839427, -37.7154165904), (-61.4944034103, -37.7155894586))
            ThreePointArc((-61.4944034103, -37.7155894586), (-61.494619611, -37.7152488404), (-61.4948357578, -37.7149081879))
        make_face()
        with BuildLine():
            Line((-61.0874725941, -38.2074843164), (-61.0873928306, -38.2079887296))
            Line((-61.0873928306, -38.2079887296), (-61.0868844044, -38.2080366633))
            ThreePointArc((-61.0868844044, -38.2080366633), (-61.0871785211, -38.2077605131), (-61.0874725941, -38.2074843164))
        make_face()
        with BuildLine():
            Line((-60.5704087914, -38.5832781608), (-60.5702060914, -38.5837468905))
            Line((-60.5702060914, -38.5837468905), (-60.5697017177, -38.5836668779))
            ThreePointArc((-60.5697017177, -38.5836668779), (-60.5700552699, -38.5834725473), (-60.5704087914, -38.5832781608))
        make_face()
        with BuildLine():
            Line((-59.9761333702, -38.8186772118), (-59.97582047, -38.8190808061))
            Line((-59.97582047, -38.8190808061), (-59.9753518404, -38.8188778745))
            ThreePointArc((-59.9753518404, -38.8188778745), (-59.9757426132, -38.8187775741), (-59.9761333702, -38.8186772118))
        make_face()
        with BuildLine():
            Line((-59.3419868406, -38.8988904813), (-59.341583401, -38.8992035808))
            Line((-59.341583401, -38.8992035808), (-59.3411799613, -38.8988904813))
            ThreePointArc((-59.3411799613, -38.8988904813), (-59.341583401, -38.8988905132), (-59.3419868406, -38.8988904813))
        make_face()
        with BuildLine():
            Line((-58.7078149615, -38.8188778745), (-58.707346332, -38.8190808061))
            Line((-58.707346332, -38.8190808061), (-58.7070334318, -38.8186772118))
            ThreePointArc((-58.7070334318, -38.8186772118), (-58.7074241887, -38.8187775741), (-58.7078149615, -38.8188778745))
        make_face()
        with BuildLine():
            Line((-58.1134650842, -38.5836668779), (-58.1129607105, -38.5837468905))
            Line((-58.1129607105, -38.5837468905), (-58.1127580105, -38.5832781608))
            ThreePointArc((-58.1127580105, -38.5832781608), (-58.113111532, -38.5834725473), (-58.1134650842, -38.5836668779))
        make_face()
        with BuildLine():
            Line((-57.5962823975, -38.2080366633), (-57.5957739713, -38.2079887296))
            Line((-57.5957739713, -38.2079887296), (-57.5956942078, -38.2074843164))
            ThreePointArc((-57.5956942078, -38.2074843164), (-57.5959882808, -38.2077605131), (-57.5962823975, -38.2080366633))
        make_face()
        with BuildLine():
            Line((-57.1887633917, -37.7155894586), (-57.1882828592, -37.7154165904))
            Line((-57.1882828592, -37.7154165904), (-57.1883310441, -37.7149081879))
            ThreePointArc((-57.1883310441, -37.7149081879), (-57.1885471909, -37.7152488404), (-57.1887633917, -37.7155894586))
        make_face()
        with BuildLine():
            Line((-56.9165139845, -37.1372675329), (-56.9160915394, -37.136980592))
            Line((-56.9160915394, -37.136980592), (-56.9162646451, -37.1365001451))
            ThreePointArc((-56.9162646451, -37.1365001451), (-56.9163892844, -37.1368838488), (-56.9165139845, -37.1372675329))
        make_face()
        with BuildLine():
            Line((-56.7966406075, -36.5094089795), (-56.7963027937, -36.5090259957))
            Line((-56.7963027937, -36.5090259957), (-56.7965899431, -36.5086036924))
            ThreePointArc((-56.7965899431, -36.5086036924), (-56.7966152435, -36.509006338), (-56.7966406075, -36.5094089795))
        make_face()
        with BuildLine():
            Line((-56.8366753459, -35.8714644606), (-56.8364433893, -35.871009498))
            Line((-56.8364433893, -35.871009498), (-56.83682654, -35.8706718733))
            ThreePointArc((-56.83682654, -35.8706718733), (-56.8367509116, -35.871068161), (-56.8366753459, -35.8714644606))
        make_face()
        with BuildLine():
            Line((-57.0341026698, -35.2635183764), (-57.0339911452, -35.263020022))
            Line((-57.0339911452, -35.263020022), (-57.0344462223, -35.2627882902))
            ThreePointArc((-57.0344462223, -35.2627882902), (-57.0342744172, -35.2631533197), (-57.0341026698, -35.2635183764))
        make_face()
        with BuildLine():
            Line((-57.3765174944, -34.7237702153), (-57.3765334092, -34.7232597825))
            Line((-57.3765334092, -34.7232597825), (-57.3770318186, -34.7231485041))
            ThreePointArc((-57.3770318186, -34.7231485041), (-57.3767746319, -34.7234593393), (-57.3765174944, -34.7237702153))
        make_face()
        with BuildLine():
            Line((-57.8424046368, -34.2861343392), (-57.8425469911, -34.2856439005))
            Line((-57.8425469911, -34.2856439005), (-57.8430574159, -34.2856600675))
            ThreePointArc((-57.8430574159, -34.2856600675), (-57.8427310076, -34.2858971775), (-57.8424046368, -34.2861343392))
        make_face()
        with BuildLine():
            Line((-59.021583401, -33.8190486209), (-59.0219444176, -33.8186874259))
            Line((-59.0219444176, -33.8186874259), (-59.0223839178, -33.8189474921))
            ThreePointArc((-59.0223839178, -33.8189474921), (-59.0219836554, -33.8189980248), (-59.021583401, -33.8190486209))
        make_face()
        with BuildLine():
            Line((-60.2799258899, -33.9778119878), (-60.2804162582, -33.9776693913))
            Line((-60.2804162582, -33.9776693913), (-60.2806761073, -33.9781090199))
            ThreePointArc((-60.2806761073, -33.9781090199), (-60.2803010103, -33.9779604742), (-60.2799258899, -33.9778119878))
        make_face()
        with BuildLine():
            ThreePointArc((-60.8407621651, -34.2861343392), (-60.8404357943, -34.2858971775), (-60.840109386, -34.2856600675))
            Line((-60.840109386, -34.2856600675), (-60.8406198108, -34.2856439005))
            Line((-60.8406198108, -34.2856439005), (-60.8407621651, -34.2861343392))
        make_face()
    extrude(amount=F24_DEPTH)


solid = Compound([f1_1.part, f22.part])
